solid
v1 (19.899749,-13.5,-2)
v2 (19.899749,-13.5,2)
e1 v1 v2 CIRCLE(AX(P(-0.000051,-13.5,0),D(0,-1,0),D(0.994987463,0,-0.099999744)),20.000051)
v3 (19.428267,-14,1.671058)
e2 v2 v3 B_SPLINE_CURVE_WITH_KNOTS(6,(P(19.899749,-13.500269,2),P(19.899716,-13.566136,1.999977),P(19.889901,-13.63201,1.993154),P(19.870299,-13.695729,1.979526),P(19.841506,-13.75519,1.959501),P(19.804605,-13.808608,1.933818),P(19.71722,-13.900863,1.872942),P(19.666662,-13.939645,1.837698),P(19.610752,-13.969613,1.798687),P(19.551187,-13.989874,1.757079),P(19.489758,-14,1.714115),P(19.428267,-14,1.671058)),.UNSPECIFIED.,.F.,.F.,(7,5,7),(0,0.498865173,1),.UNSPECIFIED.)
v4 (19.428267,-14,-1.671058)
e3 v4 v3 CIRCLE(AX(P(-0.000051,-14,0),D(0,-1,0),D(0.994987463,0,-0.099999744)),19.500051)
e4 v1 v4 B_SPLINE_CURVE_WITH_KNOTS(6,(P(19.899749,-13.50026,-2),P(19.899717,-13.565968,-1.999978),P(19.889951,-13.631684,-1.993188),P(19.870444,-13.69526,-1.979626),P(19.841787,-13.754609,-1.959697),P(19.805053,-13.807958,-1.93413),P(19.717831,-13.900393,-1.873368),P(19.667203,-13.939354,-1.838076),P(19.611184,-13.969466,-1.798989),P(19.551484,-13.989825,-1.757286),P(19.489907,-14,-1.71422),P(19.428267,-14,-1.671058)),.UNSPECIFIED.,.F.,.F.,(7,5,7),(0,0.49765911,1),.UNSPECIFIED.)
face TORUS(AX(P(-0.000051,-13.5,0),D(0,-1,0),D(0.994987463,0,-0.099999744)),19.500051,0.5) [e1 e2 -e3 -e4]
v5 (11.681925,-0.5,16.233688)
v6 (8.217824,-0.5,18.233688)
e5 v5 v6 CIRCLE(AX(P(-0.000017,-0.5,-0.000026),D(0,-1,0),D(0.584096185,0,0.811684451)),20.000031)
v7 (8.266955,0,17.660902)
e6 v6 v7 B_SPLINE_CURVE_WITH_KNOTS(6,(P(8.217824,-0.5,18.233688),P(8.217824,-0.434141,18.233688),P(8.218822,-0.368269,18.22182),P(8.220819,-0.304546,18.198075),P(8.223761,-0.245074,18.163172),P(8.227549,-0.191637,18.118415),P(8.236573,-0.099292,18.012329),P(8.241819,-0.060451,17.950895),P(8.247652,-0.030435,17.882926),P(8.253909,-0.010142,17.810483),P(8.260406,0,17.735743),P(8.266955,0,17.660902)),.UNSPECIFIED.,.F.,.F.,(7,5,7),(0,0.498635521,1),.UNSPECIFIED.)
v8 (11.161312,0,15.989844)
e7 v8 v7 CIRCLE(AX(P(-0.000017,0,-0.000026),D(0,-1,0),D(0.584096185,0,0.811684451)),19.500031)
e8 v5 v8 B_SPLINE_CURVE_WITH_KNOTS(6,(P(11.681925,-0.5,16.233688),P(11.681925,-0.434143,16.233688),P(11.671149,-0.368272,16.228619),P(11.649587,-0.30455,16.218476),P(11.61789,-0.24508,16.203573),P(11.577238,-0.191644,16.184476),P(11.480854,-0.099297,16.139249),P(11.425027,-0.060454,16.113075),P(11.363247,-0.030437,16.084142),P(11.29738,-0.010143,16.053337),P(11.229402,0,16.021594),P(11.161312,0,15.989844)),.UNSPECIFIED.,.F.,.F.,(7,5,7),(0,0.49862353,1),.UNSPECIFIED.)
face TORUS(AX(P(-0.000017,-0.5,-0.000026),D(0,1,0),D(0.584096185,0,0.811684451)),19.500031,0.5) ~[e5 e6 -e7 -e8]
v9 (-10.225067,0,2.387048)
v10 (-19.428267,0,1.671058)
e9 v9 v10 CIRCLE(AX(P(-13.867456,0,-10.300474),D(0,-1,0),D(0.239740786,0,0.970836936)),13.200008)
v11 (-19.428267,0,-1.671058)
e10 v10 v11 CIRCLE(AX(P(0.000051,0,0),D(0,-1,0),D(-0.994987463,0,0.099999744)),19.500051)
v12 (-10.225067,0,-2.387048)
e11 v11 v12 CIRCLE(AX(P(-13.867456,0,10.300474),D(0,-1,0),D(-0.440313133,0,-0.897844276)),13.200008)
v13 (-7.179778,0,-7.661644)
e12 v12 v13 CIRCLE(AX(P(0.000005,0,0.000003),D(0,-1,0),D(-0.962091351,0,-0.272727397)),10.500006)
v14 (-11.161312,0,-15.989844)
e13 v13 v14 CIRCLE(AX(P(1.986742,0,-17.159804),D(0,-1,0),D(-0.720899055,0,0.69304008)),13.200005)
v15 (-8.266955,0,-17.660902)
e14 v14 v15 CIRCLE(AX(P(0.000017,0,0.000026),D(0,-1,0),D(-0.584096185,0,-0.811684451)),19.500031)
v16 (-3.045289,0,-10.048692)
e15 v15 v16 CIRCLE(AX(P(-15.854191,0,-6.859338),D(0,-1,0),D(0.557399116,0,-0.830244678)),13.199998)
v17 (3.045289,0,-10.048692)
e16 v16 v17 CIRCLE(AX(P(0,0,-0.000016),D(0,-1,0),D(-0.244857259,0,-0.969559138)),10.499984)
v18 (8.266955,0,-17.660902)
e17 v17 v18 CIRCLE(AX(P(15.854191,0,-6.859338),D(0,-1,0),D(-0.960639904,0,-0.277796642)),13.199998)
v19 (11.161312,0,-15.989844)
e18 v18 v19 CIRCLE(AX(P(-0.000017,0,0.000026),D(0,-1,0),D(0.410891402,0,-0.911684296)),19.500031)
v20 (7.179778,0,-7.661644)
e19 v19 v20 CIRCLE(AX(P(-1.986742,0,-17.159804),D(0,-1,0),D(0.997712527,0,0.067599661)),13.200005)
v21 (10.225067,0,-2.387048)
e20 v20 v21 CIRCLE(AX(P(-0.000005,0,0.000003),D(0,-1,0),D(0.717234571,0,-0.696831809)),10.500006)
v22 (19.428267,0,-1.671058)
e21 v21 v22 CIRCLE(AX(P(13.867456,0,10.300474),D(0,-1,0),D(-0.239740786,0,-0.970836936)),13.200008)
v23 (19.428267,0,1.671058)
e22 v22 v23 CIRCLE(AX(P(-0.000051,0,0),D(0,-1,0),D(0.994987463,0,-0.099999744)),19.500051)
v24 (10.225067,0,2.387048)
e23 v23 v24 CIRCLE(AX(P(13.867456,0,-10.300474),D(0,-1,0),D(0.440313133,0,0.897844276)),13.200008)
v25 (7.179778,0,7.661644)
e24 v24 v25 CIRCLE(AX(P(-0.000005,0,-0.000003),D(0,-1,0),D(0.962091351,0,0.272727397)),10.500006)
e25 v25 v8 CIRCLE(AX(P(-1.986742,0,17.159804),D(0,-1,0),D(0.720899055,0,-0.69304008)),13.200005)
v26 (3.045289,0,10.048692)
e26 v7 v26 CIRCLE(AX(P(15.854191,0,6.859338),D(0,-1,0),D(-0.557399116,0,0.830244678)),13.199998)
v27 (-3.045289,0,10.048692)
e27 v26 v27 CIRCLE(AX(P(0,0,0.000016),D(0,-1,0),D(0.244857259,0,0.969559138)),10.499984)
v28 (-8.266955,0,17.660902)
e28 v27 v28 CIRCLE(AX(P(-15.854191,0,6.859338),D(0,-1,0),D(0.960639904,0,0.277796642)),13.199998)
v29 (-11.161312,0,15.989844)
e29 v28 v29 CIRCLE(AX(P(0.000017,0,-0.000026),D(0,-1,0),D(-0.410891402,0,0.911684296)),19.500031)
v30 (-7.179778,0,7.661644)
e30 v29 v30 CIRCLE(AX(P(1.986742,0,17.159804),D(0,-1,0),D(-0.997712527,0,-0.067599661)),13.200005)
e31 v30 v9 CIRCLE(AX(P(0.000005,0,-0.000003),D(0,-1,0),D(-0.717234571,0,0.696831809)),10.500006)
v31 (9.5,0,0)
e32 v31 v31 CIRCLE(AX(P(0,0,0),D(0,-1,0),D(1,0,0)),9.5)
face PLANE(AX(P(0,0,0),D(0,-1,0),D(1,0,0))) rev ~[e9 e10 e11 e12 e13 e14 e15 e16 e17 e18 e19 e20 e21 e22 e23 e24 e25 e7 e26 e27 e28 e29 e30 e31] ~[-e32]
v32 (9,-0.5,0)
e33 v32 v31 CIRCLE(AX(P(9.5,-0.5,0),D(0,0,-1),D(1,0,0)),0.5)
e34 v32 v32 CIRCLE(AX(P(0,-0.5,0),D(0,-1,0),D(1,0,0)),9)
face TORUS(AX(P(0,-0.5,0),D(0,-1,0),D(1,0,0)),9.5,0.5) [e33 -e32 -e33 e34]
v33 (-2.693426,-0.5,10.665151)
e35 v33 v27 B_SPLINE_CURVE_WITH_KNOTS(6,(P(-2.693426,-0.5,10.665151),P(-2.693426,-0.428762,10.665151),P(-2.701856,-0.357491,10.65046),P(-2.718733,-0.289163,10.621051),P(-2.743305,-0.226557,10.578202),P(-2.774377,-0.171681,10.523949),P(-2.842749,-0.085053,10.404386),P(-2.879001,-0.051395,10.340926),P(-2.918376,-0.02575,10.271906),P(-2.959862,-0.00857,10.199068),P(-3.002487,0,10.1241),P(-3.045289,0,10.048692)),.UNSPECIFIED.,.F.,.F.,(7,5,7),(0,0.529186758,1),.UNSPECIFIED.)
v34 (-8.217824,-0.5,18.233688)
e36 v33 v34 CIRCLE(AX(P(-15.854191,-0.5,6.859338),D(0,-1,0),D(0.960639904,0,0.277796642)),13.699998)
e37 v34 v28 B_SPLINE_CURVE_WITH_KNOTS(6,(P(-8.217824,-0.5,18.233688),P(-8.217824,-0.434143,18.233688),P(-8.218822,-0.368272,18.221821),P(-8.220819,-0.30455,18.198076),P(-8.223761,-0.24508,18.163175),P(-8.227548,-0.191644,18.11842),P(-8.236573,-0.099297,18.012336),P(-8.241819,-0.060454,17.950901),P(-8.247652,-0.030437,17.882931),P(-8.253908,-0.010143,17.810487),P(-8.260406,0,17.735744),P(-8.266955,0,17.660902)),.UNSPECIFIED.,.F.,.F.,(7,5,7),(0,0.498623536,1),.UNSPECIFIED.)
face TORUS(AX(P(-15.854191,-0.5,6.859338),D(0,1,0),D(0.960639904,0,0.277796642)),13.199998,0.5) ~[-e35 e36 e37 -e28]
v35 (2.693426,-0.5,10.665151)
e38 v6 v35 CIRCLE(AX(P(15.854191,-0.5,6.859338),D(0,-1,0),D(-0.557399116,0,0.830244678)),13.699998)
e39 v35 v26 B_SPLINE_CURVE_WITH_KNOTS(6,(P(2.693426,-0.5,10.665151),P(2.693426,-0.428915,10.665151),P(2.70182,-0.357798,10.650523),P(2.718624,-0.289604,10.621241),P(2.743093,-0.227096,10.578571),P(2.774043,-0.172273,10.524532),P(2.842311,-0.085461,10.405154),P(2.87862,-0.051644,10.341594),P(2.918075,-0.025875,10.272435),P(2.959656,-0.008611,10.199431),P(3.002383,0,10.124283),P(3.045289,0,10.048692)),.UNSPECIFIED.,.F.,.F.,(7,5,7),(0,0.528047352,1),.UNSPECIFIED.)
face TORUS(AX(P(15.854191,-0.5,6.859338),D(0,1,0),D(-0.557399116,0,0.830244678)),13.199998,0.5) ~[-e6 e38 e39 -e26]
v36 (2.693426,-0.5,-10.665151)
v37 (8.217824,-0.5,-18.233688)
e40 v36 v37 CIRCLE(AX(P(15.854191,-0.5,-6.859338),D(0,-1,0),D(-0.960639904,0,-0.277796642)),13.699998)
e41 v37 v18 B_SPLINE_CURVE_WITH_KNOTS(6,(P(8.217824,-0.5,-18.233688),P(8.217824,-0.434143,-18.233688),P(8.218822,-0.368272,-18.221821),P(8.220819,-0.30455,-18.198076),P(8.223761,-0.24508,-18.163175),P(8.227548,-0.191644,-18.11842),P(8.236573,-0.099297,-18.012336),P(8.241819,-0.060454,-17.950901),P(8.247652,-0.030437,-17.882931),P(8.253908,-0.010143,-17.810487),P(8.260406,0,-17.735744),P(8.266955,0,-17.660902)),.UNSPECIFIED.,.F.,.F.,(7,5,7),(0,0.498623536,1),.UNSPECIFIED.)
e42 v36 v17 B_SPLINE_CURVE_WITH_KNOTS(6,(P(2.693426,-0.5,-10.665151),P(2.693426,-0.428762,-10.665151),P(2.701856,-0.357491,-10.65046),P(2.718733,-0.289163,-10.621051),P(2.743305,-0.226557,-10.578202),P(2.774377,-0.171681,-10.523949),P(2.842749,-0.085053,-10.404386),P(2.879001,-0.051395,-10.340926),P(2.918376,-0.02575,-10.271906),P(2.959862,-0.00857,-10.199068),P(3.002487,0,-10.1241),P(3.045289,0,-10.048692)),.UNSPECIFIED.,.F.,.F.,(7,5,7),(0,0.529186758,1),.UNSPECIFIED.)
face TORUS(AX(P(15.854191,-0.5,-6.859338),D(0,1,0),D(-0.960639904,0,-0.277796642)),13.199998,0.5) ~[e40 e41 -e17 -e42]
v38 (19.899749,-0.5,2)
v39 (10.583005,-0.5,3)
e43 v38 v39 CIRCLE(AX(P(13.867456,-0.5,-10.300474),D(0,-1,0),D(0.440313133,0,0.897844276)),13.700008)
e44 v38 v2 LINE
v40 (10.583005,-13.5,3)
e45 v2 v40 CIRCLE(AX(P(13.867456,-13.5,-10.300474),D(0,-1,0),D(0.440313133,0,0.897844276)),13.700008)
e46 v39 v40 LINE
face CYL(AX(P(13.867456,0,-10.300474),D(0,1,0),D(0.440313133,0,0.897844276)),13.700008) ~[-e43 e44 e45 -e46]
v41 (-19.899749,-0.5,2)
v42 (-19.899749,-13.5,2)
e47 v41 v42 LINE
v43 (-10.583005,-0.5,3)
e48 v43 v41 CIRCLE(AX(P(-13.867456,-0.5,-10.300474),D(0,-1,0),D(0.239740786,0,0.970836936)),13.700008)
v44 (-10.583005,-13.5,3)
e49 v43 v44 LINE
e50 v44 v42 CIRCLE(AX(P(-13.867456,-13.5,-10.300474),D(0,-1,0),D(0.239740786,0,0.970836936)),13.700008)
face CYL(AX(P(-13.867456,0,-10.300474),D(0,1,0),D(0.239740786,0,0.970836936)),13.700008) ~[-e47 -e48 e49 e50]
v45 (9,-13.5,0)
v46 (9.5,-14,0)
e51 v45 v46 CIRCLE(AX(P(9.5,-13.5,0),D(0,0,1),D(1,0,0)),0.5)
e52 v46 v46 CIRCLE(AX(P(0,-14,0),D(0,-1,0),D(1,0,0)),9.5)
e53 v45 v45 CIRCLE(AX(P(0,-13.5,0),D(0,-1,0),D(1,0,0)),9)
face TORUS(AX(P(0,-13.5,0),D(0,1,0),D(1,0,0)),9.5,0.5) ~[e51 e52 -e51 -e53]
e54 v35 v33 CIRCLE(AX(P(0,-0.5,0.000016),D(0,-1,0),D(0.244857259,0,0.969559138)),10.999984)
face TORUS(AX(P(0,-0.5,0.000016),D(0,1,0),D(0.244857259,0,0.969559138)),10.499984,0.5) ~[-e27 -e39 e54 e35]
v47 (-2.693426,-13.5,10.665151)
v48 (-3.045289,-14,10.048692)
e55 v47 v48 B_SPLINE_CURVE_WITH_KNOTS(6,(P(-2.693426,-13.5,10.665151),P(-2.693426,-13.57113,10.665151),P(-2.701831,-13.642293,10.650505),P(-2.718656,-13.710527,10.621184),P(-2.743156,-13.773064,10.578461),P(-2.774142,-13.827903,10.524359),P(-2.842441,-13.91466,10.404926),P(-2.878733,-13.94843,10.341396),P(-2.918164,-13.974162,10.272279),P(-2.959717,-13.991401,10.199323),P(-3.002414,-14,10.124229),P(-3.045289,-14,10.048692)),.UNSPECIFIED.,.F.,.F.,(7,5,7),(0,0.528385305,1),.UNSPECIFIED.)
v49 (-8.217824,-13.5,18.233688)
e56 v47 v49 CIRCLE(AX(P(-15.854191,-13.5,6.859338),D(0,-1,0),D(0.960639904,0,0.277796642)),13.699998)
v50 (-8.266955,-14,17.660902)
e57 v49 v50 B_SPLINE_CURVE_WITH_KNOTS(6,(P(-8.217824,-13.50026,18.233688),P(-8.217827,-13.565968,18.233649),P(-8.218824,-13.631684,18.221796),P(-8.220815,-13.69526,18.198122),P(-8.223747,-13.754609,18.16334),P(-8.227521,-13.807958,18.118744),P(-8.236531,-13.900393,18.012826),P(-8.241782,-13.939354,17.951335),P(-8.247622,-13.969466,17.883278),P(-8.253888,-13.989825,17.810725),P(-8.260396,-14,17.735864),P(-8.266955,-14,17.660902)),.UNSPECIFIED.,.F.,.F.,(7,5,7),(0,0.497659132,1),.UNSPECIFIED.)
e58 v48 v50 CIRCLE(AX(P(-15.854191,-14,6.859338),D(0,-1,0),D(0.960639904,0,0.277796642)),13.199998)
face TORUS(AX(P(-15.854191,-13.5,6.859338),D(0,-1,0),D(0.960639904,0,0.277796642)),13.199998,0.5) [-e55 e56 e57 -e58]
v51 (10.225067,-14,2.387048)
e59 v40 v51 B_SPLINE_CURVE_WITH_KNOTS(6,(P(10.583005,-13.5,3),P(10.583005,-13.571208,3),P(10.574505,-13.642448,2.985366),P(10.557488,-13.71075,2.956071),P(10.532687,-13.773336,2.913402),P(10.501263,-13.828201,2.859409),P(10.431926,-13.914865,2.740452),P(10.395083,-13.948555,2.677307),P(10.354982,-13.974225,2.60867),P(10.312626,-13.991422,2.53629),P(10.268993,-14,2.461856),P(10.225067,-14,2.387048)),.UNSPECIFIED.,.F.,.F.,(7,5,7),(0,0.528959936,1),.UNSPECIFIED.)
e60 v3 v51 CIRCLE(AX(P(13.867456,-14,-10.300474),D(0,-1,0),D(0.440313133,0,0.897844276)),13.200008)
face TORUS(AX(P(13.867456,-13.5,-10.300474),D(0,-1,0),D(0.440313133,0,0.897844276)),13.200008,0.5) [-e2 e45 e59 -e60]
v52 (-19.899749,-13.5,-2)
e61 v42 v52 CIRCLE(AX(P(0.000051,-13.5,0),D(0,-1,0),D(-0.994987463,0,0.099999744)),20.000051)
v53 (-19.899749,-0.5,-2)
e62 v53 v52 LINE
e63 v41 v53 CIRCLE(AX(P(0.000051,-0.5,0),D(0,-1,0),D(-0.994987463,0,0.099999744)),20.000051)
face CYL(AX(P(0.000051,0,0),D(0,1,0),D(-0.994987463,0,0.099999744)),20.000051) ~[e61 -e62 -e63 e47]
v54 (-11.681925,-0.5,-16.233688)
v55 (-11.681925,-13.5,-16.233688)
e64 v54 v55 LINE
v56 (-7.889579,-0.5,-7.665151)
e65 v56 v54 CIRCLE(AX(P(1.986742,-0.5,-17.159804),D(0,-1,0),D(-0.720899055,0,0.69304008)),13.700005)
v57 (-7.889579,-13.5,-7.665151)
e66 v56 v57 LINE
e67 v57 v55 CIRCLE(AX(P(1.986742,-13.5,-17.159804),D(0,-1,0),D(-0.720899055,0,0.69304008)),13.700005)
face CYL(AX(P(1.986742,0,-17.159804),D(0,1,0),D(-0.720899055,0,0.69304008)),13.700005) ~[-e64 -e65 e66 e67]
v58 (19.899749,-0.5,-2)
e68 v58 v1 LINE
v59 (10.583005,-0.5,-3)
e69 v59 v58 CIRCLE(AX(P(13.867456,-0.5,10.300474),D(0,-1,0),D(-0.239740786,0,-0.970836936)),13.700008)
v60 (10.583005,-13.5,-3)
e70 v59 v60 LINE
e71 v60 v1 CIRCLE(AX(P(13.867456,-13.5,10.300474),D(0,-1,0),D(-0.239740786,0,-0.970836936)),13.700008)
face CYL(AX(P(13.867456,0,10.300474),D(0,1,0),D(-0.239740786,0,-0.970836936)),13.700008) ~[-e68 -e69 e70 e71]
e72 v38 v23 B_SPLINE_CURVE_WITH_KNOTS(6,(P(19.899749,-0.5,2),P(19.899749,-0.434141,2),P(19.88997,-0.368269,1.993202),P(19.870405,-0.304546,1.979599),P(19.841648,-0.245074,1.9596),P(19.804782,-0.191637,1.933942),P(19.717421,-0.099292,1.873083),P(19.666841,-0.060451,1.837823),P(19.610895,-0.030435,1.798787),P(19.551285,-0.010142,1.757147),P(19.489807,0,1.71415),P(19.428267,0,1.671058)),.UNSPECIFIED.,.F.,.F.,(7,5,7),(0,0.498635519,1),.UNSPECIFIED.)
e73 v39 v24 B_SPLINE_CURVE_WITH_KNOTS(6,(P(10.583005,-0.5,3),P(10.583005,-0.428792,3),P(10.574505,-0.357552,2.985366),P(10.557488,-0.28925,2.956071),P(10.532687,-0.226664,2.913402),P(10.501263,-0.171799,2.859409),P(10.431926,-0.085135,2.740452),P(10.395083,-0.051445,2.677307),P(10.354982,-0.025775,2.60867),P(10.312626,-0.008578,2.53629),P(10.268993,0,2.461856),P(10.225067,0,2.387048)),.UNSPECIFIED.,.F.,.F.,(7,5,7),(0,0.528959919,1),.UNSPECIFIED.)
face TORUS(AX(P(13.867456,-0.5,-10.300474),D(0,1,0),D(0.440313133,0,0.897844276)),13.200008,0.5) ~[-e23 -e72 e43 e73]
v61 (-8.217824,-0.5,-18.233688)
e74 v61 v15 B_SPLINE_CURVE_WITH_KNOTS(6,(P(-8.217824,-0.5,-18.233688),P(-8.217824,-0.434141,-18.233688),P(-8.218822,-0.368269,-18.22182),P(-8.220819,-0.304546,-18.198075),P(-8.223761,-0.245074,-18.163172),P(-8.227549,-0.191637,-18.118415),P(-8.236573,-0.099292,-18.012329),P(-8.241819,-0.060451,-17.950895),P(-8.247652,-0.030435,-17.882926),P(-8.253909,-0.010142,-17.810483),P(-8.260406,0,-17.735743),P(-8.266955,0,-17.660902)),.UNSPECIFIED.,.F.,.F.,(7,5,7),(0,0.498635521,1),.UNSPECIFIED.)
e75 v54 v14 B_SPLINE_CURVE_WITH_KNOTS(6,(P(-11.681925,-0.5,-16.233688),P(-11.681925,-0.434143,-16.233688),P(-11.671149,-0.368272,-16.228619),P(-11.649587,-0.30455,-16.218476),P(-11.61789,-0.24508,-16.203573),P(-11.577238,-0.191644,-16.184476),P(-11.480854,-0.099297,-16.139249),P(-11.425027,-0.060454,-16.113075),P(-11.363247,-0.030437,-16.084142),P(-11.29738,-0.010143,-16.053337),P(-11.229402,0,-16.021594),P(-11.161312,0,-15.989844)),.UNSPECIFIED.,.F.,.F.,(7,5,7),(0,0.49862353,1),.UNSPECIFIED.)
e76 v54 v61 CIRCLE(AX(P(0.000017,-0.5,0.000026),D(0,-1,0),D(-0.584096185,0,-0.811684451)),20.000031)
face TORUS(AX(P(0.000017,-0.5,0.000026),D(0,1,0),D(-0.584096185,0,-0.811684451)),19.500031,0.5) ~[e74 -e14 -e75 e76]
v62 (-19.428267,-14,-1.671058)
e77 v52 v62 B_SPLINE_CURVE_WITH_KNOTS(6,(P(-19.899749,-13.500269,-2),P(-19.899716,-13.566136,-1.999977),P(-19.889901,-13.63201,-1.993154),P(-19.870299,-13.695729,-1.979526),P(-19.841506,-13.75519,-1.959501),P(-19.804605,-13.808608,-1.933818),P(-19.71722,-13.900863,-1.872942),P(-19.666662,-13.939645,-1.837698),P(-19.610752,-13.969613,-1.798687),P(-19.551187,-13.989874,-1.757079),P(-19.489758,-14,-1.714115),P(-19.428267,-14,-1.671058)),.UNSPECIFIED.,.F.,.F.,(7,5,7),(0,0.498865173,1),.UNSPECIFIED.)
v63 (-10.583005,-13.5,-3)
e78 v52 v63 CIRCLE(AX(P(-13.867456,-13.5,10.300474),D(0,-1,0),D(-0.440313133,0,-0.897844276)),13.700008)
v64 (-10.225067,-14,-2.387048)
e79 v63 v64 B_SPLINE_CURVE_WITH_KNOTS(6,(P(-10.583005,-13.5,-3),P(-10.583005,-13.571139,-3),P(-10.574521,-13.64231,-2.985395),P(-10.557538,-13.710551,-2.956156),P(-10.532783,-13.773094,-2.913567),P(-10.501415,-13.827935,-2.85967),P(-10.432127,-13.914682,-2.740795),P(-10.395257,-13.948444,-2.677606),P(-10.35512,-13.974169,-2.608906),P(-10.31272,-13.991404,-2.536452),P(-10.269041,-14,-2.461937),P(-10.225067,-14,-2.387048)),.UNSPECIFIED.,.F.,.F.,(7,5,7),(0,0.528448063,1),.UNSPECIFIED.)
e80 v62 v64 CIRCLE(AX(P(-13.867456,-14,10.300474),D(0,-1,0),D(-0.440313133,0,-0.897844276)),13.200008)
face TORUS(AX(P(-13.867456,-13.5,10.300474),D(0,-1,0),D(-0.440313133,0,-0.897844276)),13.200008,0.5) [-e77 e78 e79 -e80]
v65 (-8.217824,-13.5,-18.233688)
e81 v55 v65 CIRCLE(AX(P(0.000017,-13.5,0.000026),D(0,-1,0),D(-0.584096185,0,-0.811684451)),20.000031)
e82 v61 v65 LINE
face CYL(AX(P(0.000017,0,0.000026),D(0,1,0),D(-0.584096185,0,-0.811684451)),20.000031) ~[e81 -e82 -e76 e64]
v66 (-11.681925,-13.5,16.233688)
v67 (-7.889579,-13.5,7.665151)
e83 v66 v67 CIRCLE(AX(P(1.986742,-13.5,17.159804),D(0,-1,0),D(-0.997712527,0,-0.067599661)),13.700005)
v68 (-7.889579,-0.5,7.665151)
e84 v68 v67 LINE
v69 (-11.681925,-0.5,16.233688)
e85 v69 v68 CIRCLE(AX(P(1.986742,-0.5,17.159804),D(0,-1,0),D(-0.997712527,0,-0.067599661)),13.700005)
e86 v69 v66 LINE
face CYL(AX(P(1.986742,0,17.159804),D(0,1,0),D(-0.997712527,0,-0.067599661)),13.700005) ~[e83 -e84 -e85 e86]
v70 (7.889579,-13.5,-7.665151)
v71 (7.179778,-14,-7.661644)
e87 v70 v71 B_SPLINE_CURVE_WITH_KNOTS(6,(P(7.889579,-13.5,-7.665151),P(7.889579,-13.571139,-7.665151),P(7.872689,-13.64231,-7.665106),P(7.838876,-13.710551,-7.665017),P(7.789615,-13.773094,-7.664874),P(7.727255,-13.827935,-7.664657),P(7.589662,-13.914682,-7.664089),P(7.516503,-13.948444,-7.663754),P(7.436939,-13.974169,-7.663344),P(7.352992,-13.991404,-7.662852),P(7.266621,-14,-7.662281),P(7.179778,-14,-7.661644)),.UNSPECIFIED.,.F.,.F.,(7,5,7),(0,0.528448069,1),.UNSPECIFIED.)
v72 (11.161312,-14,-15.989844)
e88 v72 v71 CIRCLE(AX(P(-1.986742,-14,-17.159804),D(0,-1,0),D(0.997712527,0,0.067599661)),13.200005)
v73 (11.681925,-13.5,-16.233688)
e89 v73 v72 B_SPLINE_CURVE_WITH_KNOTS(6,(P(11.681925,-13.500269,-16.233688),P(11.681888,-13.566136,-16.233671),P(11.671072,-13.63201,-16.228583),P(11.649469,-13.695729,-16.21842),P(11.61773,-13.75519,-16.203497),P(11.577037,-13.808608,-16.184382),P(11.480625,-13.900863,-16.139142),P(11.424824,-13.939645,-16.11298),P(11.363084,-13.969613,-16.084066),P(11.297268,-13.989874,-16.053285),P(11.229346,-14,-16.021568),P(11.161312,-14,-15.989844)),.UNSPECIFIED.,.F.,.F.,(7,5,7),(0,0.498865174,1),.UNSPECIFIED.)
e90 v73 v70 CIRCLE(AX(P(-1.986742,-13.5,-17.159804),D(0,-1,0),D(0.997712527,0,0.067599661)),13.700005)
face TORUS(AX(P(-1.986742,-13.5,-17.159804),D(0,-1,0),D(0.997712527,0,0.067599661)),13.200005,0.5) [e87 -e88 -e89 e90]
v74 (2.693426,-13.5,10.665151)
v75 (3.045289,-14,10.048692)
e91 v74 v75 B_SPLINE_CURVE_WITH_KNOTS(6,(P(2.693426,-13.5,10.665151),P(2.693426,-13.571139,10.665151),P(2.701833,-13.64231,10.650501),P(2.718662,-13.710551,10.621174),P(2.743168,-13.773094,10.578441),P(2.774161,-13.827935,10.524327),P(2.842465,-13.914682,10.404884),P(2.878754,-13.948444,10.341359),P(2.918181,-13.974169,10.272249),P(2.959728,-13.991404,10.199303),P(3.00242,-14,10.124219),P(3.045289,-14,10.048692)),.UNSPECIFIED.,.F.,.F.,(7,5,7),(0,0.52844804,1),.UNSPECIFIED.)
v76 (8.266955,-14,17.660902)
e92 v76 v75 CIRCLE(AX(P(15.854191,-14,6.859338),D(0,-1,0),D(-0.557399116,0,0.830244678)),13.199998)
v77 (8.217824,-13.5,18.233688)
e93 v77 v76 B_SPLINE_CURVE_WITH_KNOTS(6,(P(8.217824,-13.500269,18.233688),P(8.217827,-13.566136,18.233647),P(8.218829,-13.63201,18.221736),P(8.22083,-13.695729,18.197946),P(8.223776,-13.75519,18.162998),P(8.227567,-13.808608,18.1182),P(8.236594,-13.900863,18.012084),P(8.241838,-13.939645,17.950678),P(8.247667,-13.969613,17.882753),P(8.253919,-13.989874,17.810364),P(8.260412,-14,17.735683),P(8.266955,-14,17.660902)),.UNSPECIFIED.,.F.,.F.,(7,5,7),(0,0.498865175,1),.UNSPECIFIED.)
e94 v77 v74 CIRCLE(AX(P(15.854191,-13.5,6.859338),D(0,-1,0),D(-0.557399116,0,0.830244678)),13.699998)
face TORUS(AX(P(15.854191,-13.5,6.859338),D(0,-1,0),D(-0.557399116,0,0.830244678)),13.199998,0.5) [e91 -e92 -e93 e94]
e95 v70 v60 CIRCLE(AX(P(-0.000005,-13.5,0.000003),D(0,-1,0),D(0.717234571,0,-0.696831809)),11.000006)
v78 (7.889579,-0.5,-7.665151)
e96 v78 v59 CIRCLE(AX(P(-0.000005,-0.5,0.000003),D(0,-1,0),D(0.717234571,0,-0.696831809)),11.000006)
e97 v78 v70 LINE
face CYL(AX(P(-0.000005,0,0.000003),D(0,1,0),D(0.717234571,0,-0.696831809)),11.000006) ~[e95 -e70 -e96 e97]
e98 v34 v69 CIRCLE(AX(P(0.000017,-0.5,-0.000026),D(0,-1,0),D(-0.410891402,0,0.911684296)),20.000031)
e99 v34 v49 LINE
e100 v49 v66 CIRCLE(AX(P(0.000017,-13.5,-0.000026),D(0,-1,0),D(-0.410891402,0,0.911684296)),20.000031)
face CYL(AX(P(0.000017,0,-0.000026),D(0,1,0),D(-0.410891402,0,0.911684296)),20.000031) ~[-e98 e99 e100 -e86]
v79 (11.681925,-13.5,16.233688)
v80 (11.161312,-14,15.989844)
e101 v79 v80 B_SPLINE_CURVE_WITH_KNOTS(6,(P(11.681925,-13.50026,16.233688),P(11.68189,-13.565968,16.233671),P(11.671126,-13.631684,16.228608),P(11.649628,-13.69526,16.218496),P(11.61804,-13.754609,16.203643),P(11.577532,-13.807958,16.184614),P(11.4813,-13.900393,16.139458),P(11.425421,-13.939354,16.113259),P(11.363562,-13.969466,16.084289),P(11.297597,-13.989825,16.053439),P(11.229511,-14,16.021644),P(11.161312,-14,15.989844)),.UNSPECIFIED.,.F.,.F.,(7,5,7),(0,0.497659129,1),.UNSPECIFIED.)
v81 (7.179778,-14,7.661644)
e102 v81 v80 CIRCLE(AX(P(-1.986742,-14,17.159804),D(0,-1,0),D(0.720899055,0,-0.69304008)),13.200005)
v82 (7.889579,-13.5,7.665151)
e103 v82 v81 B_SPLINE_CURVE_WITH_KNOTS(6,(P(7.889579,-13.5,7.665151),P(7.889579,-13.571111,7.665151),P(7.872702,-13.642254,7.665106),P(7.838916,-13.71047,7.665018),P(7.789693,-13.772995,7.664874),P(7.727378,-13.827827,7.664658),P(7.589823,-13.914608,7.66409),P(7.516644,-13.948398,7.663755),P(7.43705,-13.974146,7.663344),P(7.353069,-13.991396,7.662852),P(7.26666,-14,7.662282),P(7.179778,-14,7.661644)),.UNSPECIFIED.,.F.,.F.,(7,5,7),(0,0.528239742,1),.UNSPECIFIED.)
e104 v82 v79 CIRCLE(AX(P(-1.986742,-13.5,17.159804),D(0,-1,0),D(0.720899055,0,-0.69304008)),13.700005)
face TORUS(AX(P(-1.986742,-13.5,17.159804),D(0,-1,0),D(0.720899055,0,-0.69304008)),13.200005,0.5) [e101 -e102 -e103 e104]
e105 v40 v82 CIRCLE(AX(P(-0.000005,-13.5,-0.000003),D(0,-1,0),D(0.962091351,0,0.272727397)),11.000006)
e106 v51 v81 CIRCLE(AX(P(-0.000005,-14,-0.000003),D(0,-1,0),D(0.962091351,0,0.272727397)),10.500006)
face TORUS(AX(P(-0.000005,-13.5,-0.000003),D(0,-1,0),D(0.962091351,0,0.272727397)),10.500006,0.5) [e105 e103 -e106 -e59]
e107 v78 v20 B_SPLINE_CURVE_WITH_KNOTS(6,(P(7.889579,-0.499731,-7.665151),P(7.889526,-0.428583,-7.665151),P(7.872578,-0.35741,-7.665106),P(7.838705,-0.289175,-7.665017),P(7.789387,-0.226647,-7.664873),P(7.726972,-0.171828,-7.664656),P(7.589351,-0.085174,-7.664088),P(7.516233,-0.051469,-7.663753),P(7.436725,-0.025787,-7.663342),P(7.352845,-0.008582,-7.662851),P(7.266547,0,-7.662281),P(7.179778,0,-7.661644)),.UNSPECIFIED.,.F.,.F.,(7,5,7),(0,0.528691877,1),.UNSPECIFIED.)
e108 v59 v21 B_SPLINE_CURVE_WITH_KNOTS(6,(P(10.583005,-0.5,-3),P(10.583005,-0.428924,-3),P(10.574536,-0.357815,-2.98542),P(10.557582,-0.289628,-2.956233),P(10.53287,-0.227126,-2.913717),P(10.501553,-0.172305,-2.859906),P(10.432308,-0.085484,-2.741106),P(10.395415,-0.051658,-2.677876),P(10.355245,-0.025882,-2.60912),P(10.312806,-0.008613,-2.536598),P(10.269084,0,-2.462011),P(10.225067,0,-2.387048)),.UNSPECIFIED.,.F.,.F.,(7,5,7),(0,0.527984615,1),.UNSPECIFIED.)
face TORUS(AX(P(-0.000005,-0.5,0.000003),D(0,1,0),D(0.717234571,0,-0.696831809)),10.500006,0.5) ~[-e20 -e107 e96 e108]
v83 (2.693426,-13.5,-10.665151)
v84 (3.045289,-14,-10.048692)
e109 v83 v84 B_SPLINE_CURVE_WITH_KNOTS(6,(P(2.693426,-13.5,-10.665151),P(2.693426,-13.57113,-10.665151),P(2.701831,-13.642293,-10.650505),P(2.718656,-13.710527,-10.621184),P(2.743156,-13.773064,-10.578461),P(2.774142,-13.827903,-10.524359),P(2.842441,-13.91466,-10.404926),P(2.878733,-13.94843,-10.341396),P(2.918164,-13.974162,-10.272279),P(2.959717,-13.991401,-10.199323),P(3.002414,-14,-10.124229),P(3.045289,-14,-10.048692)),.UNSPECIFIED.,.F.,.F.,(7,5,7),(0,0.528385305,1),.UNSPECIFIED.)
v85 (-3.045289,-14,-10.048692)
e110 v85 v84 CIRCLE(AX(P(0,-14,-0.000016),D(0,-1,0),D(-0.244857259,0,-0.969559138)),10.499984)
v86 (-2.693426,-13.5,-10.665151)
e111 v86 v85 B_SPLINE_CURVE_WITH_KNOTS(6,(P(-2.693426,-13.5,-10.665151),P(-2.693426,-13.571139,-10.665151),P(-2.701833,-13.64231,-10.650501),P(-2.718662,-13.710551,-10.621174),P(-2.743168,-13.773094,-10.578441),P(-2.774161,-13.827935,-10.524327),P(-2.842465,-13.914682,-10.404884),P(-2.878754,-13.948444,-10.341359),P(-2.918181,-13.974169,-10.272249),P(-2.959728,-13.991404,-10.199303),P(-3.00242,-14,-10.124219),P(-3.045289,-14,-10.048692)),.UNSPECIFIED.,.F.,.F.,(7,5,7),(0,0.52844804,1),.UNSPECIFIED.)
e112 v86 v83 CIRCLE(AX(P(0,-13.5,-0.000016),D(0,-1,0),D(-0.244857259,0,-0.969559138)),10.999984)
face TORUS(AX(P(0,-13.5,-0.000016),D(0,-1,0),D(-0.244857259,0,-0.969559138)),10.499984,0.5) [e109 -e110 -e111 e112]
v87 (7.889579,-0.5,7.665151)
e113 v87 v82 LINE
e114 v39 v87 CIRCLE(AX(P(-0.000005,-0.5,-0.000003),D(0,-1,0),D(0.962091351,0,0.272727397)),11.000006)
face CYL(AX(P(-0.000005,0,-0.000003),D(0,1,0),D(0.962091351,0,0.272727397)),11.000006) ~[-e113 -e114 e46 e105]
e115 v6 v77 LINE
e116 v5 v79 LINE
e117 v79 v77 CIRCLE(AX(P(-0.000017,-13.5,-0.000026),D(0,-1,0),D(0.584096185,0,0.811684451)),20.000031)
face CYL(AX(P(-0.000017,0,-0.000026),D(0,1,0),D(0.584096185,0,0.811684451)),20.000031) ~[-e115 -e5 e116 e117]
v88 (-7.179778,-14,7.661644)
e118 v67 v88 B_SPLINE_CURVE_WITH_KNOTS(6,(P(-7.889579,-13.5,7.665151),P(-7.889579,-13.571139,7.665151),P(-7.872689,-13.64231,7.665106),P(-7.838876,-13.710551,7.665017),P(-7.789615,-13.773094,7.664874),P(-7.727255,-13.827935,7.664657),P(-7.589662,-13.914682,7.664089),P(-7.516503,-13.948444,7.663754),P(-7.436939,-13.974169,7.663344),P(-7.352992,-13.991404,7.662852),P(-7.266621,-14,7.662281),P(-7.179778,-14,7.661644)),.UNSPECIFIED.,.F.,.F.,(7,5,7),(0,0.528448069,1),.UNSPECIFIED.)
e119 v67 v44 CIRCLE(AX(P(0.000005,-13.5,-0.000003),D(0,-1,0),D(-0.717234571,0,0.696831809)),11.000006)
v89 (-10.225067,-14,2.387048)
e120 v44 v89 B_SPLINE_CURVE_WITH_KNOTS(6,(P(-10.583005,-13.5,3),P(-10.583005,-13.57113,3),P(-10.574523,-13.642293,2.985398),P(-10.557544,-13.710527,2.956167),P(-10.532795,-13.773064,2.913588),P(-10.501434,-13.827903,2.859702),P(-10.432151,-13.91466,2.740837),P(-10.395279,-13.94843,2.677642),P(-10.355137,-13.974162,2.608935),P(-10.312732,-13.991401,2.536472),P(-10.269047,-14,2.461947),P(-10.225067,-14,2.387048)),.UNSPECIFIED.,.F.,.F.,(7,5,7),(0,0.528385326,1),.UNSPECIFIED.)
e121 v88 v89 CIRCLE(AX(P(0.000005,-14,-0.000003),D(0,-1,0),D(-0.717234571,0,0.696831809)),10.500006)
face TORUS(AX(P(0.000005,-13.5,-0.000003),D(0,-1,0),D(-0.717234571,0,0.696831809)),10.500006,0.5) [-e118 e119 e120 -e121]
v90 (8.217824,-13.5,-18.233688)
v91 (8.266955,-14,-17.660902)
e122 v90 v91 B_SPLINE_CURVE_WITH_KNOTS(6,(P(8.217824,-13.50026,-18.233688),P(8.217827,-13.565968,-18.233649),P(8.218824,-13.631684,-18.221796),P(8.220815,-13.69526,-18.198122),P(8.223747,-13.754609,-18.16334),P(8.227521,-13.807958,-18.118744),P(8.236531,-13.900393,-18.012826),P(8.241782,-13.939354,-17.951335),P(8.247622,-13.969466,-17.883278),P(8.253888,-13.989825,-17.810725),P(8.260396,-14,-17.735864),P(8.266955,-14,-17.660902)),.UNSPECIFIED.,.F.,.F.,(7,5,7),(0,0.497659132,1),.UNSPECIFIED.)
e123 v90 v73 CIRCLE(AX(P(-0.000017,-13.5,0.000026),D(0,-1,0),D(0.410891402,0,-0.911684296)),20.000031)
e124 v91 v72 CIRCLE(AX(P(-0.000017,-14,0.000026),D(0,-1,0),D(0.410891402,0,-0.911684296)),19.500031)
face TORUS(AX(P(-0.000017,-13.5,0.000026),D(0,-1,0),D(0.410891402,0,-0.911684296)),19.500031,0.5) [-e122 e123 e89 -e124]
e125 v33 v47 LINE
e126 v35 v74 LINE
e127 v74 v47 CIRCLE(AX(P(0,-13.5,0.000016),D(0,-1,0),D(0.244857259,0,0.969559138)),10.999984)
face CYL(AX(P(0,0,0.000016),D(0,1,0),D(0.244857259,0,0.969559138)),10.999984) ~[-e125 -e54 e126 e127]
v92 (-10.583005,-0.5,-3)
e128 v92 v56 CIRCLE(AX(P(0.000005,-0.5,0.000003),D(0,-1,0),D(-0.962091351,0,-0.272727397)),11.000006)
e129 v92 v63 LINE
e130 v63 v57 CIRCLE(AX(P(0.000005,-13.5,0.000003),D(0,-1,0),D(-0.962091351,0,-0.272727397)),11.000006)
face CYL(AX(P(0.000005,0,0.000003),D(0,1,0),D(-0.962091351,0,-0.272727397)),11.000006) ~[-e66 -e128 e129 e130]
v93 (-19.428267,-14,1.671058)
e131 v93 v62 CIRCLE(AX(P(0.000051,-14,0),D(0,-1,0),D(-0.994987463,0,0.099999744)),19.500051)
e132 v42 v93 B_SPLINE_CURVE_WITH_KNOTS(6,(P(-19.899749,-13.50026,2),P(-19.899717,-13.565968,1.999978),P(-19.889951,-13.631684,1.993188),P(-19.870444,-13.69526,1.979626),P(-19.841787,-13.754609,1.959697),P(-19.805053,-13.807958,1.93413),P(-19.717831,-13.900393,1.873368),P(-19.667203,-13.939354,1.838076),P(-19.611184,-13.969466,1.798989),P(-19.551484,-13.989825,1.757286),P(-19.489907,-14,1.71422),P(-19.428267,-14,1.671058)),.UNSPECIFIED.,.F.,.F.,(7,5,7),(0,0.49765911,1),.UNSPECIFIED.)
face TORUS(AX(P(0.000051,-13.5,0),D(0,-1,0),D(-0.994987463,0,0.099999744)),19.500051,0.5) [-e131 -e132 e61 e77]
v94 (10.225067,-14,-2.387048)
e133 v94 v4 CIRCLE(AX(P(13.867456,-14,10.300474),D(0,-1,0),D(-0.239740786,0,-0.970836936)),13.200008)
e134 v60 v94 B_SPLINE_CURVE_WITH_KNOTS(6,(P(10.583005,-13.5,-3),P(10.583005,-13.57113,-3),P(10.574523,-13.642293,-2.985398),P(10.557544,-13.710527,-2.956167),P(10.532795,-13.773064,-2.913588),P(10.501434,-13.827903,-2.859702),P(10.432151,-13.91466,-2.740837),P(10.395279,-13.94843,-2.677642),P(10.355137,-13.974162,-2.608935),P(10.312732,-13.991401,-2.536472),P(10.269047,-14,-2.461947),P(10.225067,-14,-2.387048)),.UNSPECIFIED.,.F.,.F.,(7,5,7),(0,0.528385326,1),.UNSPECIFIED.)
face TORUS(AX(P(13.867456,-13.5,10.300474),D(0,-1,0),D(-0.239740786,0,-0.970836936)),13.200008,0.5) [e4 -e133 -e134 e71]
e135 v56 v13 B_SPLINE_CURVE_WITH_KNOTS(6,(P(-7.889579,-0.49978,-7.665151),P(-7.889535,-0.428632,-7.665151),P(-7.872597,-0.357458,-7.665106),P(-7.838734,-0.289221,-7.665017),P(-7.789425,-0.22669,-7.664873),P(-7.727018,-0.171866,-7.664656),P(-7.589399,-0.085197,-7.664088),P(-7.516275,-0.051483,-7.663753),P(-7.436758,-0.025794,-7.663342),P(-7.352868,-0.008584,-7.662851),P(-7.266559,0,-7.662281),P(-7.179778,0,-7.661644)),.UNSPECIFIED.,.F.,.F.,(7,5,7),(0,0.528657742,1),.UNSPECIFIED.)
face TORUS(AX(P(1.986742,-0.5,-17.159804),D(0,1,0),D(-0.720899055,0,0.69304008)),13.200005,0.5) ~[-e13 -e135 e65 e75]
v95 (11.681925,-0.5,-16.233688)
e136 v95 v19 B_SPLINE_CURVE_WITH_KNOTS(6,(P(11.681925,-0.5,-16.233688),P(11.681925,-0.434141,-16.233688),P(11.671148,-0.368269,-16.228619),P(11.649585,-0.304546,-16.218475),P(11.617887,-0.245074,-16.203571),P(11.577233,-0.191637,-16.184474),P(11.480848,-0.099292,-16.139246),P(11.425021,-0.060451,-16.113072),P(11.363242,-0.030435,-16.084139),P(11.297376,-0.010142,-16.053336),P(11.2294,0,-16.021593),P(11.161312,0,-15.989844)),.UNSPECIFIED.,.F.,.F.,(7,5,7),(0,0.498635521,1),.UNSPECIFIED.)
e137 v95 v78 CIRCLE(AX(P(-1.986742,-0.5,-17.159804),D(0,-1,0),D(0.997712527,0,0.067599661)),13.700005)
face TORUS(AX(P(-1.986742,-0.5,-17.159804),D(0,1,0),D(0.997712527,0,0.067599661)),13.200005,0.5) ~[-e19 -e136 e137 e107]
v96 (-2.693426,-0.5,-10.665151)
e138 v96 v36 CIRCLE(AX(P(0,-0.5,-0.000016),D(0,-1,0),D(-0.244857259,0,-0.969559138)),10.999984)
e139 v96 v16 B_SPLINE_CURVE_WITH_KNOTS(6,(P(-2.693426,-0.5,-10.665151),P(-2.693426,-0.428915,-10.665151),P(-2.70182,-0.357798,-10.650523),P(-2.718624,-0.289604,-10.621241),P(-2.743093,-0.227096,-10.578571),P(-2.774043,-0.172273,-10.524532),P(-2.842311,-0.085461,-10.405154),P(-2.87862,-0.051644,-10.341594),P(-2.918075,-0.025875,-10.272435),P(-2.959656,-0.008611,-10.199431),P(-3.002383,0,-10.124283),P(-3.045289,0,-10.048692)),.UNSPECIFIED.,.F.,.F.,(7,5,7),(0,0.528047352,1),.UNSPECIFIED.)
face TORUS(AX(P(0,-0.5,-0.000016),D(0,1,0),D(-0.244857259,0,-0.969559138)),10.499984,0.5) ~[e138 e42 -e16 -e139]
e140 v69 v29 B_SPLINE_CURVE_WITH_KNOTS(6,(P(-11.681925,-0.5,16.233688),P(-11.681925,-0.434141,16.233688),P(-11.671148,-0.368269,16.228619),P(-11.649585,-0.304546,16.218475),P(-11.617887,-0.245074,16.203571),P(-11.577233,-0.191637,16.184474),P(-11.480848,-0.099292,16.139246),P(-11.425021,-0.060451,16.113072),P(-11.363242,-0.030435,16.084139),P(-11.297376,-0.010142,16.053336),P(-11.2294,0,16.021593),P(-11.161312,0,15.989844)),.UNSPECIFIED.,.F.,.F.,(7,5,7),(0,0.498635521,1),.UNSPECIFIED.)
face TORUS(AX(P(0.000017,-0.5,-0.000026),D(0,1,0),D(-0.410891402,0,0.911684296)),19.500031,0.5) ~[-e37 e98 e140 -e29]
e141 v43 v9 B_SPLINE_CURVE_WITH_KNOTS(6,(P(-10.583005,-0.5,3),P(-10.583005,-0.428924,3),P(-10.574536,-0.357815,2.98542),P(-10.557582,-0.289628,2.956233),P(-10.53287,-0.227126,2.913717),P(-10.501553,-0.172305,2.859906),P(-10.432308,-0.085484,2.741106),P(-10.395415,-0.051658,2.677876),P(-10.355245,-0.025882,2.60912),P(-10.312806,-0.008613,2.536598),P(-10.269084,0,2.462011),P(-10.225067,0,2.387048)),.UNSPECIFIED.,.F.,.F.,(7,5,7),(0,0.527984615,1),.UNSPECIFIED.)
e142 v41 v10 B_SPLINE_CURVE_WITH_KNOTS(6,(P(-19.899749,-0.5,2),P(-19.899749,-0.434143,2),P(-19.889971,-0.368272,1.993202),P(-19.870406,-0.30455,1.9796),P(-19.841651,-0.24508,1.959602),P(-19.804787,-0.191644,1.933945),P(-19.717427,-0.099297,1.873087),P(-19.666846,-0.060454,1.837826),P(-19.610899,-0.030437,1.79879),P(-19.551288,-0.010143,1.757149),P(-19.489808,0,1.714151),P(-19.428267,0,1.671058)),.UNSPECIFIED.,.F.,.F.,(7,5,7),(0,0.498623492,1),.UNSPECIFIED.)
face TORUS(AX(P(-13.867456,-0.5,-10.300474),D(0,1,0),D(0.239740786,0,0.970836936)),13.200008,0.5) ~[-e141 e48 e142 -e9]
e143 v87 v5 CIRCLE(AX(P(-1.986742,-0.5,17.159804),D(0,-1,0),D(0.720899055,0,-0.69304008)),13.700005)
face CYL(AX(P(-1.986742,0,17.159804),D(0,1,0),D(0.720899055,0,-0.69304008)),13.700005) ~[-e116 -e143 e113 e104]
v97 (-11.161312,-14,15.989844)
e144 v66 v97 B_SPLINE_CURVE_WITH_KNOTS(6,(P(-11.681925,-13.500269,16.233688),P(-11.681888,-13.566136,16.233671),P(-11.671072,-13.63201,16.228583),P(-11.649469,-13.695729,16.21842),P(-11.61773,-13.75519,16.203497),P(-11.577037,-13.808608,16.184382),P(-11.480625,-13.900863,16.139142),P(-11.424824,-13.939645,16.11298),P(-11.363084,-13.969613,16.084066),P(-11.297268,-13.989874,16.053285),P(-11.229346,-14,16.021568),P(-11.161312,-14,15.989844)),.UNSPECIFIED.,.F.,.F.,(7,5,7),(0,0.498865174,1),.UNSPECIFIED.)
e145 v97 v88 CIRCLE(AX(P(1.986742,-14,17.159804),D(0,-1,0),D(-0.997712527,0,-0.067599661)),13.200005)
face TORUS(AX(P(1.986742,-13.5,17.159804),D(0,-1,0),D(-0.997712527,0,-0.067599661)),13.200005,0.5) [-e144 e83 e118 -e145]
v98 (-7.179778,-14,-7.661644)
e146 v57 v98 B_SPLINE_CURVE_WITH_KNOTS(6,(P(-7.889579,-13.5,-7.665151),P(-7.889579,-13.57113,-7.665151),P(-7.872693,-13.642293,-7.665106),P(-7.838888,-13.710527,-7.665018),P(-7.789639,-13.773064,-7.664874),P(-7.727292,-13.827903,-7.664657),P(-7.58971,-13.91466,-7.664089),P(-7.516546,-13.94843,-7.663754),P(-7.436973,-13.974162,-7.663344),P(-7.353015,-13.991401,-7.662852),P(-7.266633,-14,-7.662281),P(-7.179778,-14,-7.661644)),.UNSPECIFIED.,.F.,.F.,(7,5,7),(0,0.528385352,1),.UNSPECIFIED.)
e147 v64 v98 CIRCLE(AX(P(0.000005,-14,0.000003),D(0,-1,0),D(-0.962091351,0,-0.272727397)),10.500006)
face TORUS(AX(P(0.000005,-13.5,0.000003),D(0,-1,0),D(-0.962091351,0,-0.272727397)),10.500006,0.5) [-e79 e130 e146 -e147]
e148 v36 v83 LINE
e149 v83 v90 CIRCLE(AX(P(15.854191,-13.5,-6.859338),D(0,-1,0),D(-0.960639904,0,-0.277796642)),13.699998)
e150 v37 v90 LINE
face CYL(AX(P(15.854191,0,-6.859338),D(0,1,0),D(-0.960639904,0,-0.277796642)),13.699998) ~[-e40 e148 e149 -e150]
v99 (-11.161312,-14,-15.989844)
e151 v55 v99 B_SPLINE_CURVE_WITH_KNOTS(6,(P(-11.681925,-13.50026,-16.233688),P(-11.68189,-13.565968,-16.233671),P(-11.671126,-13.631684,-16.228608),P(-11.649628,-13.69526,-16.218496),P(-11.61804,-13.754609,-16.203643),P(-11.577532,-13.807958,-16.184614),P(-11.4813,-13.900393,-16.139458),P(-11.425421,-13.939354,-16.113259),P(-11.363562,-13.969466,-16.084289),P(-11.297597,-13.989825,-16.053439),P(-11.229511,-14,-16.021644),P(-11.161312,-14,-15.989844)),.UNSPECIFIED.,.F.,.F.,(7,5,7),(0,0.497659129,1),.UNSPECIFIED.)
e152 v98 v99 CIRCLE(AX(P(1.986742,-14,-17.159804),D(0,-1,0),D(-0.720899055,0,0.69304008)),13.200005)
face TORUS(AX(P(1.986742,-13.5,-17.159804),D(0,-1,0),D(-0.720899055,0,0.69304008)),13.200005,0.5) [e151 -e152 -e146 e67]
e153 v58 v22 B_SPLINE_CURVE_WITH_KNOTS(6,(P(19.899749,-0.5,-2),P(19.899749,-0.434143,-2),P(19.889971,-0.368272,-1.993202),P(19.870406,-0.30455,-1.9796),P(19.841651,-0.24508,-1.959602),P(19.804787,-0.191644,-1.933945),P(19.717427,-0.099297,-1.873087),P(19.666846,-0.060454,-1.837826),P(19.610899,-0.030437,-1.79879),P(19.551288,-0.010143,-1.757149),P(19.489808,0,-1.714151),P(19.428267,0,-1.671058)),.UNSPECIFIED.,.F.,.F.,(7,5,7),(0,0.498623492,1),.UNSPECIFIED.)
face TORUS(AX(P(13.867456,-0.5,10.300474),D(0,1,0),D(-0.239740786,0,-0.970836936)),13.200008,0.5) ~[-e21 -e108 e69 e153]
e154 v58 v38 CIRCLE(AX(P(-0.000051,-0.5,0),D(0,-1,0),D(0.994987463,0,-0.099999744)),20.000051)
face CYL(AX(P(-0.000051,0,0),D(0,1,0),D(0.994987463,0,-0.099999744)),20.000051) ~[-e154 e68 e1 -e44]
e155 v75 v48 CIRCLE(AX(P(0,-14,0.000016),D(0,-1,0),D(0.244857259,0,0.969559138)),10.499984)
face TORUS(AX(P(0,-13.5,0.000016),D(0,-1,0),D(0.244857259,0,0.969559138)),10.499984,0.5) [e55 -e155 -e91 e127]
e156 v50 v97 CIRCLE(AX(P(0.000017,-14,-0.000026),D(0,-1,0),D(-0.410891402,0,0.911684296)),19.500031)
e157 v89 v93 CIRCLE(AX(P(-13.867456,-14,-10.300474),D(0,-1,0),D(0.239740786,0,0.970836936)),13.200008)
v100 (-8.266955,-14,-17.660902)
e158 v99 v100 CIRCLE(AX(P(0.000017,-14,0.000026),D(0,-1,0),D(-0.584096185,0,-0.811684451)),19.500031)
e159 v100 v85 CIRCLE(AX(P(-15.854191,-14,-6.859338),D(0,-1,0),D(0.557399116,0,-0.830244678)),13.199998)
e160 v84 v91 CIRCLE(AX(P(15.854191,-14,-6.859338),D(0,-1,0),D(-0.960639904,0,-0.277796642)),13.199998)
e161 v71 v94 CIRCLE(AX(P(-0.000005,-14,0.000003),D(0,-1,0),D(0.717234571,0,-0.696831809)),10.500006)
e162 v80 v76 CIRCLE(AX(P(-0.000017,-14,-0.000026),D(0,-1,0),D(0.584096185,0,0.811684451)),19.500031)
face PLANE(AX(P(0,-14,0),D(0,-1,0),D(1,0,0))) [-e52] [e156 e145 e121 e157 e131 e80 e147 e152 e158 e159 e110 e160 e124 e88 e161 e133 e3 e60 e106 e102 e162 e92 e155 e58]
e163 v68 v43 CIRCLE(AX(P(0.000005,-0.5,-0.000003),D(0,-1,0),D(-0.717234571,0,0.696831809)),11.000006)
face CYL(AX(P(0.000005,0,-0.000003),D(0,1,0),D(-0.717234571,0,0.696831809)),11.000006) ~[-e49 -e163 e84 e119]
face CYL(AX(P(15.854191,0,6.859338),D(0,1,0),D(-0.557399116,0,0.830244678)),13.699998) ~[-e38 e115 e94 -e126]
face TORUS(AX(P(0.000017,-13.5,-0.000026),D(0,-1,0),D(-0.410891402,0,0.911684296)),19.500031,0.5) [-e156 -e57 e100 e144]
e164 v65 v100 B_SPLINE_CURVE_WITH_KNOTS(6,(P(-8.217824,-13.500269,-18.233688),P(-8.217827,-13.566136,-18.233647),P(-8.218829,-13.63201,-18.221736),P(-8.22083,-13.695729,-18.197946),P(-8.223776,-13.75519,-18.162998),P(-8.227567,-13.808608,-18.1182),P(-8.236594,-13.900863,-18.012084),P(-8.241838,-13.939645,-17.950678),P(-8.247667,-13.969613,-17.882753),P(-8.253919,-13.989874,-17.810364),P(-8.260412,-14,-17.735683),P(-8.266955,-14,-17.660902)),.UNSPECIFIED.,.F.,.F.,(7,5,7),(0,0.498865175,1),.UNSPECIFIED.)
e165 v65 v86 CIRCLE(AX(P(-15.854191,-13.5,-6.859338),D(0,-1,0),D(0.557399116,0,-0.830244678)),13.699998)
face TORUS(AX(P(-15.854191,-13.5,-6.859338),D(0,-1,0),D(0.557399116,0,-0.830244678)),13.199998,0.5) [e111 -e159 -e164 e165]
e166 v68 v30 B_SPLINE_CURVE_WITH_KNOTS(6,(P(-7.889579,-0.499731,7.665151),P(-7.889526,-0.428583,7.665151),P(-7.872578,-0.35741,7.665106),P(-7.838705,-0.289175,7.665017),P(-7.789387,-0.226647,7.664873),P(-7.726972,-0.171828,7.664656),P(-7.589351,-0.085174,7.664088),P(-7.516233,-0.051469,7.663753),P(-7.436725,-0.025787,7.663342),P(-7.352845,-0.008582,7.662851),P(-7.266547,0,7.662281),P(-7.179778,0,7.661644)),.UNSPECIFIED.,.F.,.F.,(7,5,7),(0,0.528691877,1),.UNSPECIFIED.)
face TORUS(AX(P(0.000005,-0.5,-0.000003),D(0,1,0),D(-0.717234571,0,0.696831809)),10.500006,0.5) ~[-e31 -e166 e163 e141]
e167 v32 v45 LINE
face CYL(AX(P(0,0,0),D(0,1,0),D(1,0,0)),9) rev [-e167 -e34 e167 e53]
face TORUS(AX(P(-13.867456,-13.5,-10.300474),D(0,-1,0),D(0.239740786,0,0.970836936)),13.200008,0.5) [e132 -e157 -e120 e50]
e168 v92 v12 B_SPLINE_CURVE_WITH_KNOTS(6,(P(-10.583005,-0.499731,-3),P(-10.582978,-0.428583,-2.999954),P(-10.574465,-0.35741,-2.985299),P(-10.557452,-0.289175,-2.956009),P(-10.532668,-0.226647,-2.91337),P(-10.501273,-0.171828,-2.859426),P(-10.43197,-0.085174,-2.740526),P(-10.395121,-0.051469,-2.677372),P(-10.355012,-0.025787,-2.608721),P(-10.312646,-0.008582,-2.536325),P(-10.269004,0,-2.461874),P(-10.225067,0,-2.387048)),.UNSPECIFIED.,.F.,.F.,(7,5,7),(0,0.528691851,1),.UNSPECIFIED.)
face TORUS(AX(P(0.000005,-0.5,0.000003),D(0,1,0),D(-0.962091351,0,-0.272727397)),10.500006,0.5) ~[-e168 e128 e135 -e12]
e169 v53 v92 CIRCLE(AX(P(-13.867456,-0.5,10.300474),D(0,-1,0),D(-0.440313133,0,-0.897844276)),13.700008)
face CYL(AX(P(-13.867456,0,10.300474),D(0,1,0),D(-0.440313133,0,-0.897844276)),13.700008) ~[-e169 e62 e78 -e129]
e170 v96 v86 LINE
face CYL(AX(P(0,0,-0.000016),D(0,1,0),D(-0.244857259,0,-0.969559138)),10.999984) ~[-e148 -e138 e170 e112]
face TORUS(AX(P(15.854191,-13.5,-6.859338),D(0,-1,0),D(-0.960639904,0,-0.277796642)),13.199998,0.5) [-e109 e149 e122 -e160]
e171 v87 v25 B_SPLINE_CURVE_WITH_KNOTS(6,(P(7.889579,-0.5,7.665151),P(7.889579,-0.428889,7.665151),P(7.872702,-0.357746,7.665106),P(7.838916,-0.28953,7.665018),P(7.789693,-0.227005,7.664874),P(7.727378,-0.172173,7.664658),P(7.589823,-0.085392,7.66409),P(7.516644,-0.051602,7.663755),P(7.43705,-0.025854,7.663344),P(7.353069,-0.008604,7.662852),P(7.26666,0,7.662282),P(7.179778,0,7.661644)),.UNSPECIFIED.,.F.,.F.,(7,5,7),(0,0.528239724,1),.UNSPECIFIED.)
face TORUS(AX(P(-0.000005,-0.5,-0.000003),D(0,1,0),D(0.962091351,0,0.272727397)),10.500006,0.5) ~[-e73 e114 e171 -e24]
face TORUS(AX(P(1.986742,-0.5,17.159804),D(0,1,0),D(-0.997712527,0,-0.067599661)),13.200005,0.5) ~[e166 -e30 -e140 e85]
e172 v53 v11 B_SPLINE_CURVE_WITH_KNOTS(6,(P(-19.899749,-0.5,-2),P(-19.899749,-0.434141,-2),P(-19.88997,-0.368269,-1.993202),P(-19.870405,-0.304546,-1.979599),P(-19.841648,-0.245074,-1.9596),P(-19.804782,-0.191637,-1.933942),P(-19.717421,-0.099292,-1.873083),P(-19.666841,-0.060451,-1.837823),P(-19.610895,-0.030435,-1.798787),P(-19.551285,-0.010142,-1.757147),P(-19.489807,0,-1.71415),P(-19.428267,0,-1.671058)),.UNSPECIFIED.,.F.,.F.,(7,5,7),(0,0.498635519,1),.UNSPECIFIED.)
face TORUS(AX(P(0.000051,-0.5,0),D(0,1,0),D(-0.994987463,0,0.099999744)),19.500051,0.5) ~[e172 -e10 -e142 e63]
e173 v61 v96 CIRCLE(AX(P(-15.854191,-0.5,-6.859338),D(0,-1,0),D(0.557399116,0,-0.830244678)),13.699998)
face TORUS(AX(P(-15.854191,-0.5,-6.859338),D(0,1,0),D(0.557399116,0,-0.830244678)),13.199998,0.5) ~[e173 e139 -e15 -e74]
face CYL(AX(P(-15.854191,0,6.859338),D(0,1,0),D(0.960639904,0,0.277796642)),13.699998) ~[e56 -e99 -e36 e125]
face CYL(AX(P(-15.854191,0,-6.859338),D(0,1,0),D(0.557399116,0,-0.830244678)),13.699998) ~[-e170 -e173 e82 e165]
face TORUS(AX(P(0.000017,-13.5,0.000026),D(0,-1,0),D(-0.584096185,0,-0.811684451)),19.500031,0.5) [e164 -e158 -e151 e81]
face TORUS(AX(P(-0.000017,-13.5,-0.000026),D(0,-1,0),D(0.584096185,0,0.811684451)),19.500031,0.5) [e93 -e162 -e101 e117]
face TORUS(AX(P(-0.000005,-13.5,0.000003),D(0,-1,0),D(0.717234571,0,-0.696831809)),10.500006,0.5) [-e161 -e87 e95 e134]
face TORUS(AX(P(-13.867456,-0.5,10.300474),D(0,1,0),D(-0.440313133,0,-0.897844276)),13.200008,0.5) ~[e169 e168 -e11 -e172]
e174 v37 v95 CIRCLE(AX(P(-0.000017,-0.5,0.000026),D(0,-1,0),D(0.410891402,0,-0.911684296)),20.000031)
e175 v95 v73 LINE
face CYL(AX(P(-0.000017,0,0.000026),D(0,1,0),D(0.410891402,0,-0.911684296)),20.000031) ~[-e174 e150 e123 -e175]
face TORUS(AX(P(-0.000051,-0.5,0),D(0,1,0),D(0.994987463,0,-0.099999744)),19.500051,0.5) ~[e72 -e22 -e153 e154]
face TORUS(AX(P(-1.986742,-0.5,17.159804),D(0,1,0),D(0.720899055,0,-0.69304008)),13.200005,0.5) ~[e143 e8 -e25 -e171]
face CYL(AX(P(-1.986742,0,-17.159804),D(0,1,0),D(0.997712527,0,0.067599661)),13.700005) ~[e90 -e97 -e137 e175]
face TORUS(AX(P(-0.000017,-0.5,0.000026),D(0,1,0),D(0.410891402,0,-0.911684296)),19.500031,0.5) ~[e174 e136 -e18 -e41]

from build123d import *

# Parameters (mm, degrees)
F0_R     = 9
F1_DEPTH = 14
F2_R     = 0.5


with BuildPart() as f1:
    # F0 (on Front) → F1 (new body)
    with BuildSketch(Plane.XZ):
        with BuildLine():
            ThreePointArc((-2.693426, 10.665151), (-4.788439, 14.936409), (-8.217824, 18.233688))
            ThreePointArc((-8.217824, 18.233688), (-10, 17.320508), (-11.681925, 16.233688))
            ThreePointArc((-11.681925, 16.233688), (-10.54109, 11.615115), (-7.889579, 7.665151))
            ThreePointArc((-7.889579, 7.665151), (-9.526279, 5.5), (-10.583005, 3))
            ThreePointArc((-10.583005, 3), (-15.32953, 3.321294), (-19.899749, 2))
            ThreePointArc((-19.899749, 2), (-20, 0), (-19.899749, -2))
            ThreePointArc((-19.899749, -2), (-15.32953, -3.321294), (-10.583005, -3))
            ThreePointArc((-10.583005, -3), (-9.526279, -5.5), (-7.889579, -7.665151))
            ThreePointArc((-7.889579, -7.665151), (-10.54109, -11.615115), (-11.681925, -16.233688))
            ThreePointArc((-11.681925, -16.233688), (-10, -17.320508), (-8.217824, -18.233688))
            ThreePointArc((-8.217824, -18.233688), (-4.788439, -14.936409), (-2.693426, -10.665151))
            ThreePointArc((-2.693426, -10.665151), (0, -11), (2.693426, -10.665151))
            ThreePointArc((2.693426, -10.665151), (4.788439, -14.936409), (8.217824, -18.233688))
            ThreePointArc((8.217824, -18.233688), (10, -17.320508), (11.681925, -16.233688))
            ThreePointArc((11.681925, -16.233688), (10.54109, -11.615115), (7.889579, -7.665151))
            ThreePointArc((7.889579, -7.665151), (9.526279, -5.5), (10.583005, -3))
            ThreePointArc((10.583005, -3), (15.32953, -3.321294), (19.899749, -2))
            ThreePointArc((19.899749, -2), (20, 0), (19.899749, 2))
            ThreePointArc((19.899749, 2), (15.32953, 3.321294), (10.583005, 3))
            ThreePointArc((10.583005, 3), (9.526279, 5.5), (7.889579, 7.665151))
            ThreePointArc((7.889579, 7.665151), (10.54109, 11.615115), (11.681925, 16.233688))
            ThreePointArc((11.681925, 16.233688), (10, 17.320508), (8.217824, 18.233688))
            ThreePointArc((8.217824, 18.233688), (4.788439, 14.936409), (2.693426, 10.665151))
            ThreePointArc((2.693426, 10.665151), (0, 11), (-2.693426, 10.665151))
        make_face()
        Circle(F0_R, mode=Mode.SUBTRACT)
    extrude(amount=F1_DEPTH)

    # F2
    f2_edges = [f1.edges().sort_by_distance(p)[0] for p in [
        (10.54109, -14, 11.615115),
        (10, -14, 17.320508),
        (4.788439, -14, 14.936409),
        (0, -14, 11),
        (-4.788439, -14, 14.936409),
        (-10, -14, 17.320508),
        (-10.54109, -14, 11.615115),
        (-9.526279, -14, 5.5),
        (-15.32953, -14, 3.321294),
        (-20, -14, 0),
        (-15.32953, -14, -3.321294),
        (-9.526279, -14, -5.5),
        (-10.54109, -14, -11.615115),
        (-10, -14, -17.320508),
        (-4.788439, -14, -14.936409),
        (0, -14, -11),
        (4.788439, -14, -14.936409),
        (10, -14, -17.320508),
        (10.54109, -14, -11.615115),
        (9.526279, -14, -5.5),
        (15.32953, -14, -3.321294),
        (20, -14, 0),
        (15.32953, -14, 3.321294),
        (9.526279, -14, 5.5),
        (-9, -14, 0),
        (10.54109, 0, 11.615115),
        (10, 0, 17.320508),
        (4.788439, 0, 14.936409),
        (0, 0, 11),
        (-4.788439, 0, 14.936409),
        (-10, 0, 17.320508),
        (-10.54109, 0, 11.615115),
        (-9.526279, 0, 5.5),
        (-15.32953, 0, 3.321294),
        (-20, 0, 0),
        (-15.32953, 0, -3.321294),
        (-9.526279, 0, -5.5),
        (-10.54109, 0, -11.615115),
        (-10, 0, -17.320508),
        (-4.788439, 0, -14.936409),
        (0, 0, -11),
        (4.788439, 0, -14.936409),
        (10, 0, -17.320508),
        (10.54109, 0, -11.615115),
        (9.526279, 0, -5.5),
        (15.32953, 0, -3.321294),
        (20, 0, 0),
        (15.32953, 0, 3.321294),
        (9.526279, 0, 5.5),
        (-9, 0, 0),
    ]]
    fillet(f2_edges, radius=F2_R)


solid = f1.part
